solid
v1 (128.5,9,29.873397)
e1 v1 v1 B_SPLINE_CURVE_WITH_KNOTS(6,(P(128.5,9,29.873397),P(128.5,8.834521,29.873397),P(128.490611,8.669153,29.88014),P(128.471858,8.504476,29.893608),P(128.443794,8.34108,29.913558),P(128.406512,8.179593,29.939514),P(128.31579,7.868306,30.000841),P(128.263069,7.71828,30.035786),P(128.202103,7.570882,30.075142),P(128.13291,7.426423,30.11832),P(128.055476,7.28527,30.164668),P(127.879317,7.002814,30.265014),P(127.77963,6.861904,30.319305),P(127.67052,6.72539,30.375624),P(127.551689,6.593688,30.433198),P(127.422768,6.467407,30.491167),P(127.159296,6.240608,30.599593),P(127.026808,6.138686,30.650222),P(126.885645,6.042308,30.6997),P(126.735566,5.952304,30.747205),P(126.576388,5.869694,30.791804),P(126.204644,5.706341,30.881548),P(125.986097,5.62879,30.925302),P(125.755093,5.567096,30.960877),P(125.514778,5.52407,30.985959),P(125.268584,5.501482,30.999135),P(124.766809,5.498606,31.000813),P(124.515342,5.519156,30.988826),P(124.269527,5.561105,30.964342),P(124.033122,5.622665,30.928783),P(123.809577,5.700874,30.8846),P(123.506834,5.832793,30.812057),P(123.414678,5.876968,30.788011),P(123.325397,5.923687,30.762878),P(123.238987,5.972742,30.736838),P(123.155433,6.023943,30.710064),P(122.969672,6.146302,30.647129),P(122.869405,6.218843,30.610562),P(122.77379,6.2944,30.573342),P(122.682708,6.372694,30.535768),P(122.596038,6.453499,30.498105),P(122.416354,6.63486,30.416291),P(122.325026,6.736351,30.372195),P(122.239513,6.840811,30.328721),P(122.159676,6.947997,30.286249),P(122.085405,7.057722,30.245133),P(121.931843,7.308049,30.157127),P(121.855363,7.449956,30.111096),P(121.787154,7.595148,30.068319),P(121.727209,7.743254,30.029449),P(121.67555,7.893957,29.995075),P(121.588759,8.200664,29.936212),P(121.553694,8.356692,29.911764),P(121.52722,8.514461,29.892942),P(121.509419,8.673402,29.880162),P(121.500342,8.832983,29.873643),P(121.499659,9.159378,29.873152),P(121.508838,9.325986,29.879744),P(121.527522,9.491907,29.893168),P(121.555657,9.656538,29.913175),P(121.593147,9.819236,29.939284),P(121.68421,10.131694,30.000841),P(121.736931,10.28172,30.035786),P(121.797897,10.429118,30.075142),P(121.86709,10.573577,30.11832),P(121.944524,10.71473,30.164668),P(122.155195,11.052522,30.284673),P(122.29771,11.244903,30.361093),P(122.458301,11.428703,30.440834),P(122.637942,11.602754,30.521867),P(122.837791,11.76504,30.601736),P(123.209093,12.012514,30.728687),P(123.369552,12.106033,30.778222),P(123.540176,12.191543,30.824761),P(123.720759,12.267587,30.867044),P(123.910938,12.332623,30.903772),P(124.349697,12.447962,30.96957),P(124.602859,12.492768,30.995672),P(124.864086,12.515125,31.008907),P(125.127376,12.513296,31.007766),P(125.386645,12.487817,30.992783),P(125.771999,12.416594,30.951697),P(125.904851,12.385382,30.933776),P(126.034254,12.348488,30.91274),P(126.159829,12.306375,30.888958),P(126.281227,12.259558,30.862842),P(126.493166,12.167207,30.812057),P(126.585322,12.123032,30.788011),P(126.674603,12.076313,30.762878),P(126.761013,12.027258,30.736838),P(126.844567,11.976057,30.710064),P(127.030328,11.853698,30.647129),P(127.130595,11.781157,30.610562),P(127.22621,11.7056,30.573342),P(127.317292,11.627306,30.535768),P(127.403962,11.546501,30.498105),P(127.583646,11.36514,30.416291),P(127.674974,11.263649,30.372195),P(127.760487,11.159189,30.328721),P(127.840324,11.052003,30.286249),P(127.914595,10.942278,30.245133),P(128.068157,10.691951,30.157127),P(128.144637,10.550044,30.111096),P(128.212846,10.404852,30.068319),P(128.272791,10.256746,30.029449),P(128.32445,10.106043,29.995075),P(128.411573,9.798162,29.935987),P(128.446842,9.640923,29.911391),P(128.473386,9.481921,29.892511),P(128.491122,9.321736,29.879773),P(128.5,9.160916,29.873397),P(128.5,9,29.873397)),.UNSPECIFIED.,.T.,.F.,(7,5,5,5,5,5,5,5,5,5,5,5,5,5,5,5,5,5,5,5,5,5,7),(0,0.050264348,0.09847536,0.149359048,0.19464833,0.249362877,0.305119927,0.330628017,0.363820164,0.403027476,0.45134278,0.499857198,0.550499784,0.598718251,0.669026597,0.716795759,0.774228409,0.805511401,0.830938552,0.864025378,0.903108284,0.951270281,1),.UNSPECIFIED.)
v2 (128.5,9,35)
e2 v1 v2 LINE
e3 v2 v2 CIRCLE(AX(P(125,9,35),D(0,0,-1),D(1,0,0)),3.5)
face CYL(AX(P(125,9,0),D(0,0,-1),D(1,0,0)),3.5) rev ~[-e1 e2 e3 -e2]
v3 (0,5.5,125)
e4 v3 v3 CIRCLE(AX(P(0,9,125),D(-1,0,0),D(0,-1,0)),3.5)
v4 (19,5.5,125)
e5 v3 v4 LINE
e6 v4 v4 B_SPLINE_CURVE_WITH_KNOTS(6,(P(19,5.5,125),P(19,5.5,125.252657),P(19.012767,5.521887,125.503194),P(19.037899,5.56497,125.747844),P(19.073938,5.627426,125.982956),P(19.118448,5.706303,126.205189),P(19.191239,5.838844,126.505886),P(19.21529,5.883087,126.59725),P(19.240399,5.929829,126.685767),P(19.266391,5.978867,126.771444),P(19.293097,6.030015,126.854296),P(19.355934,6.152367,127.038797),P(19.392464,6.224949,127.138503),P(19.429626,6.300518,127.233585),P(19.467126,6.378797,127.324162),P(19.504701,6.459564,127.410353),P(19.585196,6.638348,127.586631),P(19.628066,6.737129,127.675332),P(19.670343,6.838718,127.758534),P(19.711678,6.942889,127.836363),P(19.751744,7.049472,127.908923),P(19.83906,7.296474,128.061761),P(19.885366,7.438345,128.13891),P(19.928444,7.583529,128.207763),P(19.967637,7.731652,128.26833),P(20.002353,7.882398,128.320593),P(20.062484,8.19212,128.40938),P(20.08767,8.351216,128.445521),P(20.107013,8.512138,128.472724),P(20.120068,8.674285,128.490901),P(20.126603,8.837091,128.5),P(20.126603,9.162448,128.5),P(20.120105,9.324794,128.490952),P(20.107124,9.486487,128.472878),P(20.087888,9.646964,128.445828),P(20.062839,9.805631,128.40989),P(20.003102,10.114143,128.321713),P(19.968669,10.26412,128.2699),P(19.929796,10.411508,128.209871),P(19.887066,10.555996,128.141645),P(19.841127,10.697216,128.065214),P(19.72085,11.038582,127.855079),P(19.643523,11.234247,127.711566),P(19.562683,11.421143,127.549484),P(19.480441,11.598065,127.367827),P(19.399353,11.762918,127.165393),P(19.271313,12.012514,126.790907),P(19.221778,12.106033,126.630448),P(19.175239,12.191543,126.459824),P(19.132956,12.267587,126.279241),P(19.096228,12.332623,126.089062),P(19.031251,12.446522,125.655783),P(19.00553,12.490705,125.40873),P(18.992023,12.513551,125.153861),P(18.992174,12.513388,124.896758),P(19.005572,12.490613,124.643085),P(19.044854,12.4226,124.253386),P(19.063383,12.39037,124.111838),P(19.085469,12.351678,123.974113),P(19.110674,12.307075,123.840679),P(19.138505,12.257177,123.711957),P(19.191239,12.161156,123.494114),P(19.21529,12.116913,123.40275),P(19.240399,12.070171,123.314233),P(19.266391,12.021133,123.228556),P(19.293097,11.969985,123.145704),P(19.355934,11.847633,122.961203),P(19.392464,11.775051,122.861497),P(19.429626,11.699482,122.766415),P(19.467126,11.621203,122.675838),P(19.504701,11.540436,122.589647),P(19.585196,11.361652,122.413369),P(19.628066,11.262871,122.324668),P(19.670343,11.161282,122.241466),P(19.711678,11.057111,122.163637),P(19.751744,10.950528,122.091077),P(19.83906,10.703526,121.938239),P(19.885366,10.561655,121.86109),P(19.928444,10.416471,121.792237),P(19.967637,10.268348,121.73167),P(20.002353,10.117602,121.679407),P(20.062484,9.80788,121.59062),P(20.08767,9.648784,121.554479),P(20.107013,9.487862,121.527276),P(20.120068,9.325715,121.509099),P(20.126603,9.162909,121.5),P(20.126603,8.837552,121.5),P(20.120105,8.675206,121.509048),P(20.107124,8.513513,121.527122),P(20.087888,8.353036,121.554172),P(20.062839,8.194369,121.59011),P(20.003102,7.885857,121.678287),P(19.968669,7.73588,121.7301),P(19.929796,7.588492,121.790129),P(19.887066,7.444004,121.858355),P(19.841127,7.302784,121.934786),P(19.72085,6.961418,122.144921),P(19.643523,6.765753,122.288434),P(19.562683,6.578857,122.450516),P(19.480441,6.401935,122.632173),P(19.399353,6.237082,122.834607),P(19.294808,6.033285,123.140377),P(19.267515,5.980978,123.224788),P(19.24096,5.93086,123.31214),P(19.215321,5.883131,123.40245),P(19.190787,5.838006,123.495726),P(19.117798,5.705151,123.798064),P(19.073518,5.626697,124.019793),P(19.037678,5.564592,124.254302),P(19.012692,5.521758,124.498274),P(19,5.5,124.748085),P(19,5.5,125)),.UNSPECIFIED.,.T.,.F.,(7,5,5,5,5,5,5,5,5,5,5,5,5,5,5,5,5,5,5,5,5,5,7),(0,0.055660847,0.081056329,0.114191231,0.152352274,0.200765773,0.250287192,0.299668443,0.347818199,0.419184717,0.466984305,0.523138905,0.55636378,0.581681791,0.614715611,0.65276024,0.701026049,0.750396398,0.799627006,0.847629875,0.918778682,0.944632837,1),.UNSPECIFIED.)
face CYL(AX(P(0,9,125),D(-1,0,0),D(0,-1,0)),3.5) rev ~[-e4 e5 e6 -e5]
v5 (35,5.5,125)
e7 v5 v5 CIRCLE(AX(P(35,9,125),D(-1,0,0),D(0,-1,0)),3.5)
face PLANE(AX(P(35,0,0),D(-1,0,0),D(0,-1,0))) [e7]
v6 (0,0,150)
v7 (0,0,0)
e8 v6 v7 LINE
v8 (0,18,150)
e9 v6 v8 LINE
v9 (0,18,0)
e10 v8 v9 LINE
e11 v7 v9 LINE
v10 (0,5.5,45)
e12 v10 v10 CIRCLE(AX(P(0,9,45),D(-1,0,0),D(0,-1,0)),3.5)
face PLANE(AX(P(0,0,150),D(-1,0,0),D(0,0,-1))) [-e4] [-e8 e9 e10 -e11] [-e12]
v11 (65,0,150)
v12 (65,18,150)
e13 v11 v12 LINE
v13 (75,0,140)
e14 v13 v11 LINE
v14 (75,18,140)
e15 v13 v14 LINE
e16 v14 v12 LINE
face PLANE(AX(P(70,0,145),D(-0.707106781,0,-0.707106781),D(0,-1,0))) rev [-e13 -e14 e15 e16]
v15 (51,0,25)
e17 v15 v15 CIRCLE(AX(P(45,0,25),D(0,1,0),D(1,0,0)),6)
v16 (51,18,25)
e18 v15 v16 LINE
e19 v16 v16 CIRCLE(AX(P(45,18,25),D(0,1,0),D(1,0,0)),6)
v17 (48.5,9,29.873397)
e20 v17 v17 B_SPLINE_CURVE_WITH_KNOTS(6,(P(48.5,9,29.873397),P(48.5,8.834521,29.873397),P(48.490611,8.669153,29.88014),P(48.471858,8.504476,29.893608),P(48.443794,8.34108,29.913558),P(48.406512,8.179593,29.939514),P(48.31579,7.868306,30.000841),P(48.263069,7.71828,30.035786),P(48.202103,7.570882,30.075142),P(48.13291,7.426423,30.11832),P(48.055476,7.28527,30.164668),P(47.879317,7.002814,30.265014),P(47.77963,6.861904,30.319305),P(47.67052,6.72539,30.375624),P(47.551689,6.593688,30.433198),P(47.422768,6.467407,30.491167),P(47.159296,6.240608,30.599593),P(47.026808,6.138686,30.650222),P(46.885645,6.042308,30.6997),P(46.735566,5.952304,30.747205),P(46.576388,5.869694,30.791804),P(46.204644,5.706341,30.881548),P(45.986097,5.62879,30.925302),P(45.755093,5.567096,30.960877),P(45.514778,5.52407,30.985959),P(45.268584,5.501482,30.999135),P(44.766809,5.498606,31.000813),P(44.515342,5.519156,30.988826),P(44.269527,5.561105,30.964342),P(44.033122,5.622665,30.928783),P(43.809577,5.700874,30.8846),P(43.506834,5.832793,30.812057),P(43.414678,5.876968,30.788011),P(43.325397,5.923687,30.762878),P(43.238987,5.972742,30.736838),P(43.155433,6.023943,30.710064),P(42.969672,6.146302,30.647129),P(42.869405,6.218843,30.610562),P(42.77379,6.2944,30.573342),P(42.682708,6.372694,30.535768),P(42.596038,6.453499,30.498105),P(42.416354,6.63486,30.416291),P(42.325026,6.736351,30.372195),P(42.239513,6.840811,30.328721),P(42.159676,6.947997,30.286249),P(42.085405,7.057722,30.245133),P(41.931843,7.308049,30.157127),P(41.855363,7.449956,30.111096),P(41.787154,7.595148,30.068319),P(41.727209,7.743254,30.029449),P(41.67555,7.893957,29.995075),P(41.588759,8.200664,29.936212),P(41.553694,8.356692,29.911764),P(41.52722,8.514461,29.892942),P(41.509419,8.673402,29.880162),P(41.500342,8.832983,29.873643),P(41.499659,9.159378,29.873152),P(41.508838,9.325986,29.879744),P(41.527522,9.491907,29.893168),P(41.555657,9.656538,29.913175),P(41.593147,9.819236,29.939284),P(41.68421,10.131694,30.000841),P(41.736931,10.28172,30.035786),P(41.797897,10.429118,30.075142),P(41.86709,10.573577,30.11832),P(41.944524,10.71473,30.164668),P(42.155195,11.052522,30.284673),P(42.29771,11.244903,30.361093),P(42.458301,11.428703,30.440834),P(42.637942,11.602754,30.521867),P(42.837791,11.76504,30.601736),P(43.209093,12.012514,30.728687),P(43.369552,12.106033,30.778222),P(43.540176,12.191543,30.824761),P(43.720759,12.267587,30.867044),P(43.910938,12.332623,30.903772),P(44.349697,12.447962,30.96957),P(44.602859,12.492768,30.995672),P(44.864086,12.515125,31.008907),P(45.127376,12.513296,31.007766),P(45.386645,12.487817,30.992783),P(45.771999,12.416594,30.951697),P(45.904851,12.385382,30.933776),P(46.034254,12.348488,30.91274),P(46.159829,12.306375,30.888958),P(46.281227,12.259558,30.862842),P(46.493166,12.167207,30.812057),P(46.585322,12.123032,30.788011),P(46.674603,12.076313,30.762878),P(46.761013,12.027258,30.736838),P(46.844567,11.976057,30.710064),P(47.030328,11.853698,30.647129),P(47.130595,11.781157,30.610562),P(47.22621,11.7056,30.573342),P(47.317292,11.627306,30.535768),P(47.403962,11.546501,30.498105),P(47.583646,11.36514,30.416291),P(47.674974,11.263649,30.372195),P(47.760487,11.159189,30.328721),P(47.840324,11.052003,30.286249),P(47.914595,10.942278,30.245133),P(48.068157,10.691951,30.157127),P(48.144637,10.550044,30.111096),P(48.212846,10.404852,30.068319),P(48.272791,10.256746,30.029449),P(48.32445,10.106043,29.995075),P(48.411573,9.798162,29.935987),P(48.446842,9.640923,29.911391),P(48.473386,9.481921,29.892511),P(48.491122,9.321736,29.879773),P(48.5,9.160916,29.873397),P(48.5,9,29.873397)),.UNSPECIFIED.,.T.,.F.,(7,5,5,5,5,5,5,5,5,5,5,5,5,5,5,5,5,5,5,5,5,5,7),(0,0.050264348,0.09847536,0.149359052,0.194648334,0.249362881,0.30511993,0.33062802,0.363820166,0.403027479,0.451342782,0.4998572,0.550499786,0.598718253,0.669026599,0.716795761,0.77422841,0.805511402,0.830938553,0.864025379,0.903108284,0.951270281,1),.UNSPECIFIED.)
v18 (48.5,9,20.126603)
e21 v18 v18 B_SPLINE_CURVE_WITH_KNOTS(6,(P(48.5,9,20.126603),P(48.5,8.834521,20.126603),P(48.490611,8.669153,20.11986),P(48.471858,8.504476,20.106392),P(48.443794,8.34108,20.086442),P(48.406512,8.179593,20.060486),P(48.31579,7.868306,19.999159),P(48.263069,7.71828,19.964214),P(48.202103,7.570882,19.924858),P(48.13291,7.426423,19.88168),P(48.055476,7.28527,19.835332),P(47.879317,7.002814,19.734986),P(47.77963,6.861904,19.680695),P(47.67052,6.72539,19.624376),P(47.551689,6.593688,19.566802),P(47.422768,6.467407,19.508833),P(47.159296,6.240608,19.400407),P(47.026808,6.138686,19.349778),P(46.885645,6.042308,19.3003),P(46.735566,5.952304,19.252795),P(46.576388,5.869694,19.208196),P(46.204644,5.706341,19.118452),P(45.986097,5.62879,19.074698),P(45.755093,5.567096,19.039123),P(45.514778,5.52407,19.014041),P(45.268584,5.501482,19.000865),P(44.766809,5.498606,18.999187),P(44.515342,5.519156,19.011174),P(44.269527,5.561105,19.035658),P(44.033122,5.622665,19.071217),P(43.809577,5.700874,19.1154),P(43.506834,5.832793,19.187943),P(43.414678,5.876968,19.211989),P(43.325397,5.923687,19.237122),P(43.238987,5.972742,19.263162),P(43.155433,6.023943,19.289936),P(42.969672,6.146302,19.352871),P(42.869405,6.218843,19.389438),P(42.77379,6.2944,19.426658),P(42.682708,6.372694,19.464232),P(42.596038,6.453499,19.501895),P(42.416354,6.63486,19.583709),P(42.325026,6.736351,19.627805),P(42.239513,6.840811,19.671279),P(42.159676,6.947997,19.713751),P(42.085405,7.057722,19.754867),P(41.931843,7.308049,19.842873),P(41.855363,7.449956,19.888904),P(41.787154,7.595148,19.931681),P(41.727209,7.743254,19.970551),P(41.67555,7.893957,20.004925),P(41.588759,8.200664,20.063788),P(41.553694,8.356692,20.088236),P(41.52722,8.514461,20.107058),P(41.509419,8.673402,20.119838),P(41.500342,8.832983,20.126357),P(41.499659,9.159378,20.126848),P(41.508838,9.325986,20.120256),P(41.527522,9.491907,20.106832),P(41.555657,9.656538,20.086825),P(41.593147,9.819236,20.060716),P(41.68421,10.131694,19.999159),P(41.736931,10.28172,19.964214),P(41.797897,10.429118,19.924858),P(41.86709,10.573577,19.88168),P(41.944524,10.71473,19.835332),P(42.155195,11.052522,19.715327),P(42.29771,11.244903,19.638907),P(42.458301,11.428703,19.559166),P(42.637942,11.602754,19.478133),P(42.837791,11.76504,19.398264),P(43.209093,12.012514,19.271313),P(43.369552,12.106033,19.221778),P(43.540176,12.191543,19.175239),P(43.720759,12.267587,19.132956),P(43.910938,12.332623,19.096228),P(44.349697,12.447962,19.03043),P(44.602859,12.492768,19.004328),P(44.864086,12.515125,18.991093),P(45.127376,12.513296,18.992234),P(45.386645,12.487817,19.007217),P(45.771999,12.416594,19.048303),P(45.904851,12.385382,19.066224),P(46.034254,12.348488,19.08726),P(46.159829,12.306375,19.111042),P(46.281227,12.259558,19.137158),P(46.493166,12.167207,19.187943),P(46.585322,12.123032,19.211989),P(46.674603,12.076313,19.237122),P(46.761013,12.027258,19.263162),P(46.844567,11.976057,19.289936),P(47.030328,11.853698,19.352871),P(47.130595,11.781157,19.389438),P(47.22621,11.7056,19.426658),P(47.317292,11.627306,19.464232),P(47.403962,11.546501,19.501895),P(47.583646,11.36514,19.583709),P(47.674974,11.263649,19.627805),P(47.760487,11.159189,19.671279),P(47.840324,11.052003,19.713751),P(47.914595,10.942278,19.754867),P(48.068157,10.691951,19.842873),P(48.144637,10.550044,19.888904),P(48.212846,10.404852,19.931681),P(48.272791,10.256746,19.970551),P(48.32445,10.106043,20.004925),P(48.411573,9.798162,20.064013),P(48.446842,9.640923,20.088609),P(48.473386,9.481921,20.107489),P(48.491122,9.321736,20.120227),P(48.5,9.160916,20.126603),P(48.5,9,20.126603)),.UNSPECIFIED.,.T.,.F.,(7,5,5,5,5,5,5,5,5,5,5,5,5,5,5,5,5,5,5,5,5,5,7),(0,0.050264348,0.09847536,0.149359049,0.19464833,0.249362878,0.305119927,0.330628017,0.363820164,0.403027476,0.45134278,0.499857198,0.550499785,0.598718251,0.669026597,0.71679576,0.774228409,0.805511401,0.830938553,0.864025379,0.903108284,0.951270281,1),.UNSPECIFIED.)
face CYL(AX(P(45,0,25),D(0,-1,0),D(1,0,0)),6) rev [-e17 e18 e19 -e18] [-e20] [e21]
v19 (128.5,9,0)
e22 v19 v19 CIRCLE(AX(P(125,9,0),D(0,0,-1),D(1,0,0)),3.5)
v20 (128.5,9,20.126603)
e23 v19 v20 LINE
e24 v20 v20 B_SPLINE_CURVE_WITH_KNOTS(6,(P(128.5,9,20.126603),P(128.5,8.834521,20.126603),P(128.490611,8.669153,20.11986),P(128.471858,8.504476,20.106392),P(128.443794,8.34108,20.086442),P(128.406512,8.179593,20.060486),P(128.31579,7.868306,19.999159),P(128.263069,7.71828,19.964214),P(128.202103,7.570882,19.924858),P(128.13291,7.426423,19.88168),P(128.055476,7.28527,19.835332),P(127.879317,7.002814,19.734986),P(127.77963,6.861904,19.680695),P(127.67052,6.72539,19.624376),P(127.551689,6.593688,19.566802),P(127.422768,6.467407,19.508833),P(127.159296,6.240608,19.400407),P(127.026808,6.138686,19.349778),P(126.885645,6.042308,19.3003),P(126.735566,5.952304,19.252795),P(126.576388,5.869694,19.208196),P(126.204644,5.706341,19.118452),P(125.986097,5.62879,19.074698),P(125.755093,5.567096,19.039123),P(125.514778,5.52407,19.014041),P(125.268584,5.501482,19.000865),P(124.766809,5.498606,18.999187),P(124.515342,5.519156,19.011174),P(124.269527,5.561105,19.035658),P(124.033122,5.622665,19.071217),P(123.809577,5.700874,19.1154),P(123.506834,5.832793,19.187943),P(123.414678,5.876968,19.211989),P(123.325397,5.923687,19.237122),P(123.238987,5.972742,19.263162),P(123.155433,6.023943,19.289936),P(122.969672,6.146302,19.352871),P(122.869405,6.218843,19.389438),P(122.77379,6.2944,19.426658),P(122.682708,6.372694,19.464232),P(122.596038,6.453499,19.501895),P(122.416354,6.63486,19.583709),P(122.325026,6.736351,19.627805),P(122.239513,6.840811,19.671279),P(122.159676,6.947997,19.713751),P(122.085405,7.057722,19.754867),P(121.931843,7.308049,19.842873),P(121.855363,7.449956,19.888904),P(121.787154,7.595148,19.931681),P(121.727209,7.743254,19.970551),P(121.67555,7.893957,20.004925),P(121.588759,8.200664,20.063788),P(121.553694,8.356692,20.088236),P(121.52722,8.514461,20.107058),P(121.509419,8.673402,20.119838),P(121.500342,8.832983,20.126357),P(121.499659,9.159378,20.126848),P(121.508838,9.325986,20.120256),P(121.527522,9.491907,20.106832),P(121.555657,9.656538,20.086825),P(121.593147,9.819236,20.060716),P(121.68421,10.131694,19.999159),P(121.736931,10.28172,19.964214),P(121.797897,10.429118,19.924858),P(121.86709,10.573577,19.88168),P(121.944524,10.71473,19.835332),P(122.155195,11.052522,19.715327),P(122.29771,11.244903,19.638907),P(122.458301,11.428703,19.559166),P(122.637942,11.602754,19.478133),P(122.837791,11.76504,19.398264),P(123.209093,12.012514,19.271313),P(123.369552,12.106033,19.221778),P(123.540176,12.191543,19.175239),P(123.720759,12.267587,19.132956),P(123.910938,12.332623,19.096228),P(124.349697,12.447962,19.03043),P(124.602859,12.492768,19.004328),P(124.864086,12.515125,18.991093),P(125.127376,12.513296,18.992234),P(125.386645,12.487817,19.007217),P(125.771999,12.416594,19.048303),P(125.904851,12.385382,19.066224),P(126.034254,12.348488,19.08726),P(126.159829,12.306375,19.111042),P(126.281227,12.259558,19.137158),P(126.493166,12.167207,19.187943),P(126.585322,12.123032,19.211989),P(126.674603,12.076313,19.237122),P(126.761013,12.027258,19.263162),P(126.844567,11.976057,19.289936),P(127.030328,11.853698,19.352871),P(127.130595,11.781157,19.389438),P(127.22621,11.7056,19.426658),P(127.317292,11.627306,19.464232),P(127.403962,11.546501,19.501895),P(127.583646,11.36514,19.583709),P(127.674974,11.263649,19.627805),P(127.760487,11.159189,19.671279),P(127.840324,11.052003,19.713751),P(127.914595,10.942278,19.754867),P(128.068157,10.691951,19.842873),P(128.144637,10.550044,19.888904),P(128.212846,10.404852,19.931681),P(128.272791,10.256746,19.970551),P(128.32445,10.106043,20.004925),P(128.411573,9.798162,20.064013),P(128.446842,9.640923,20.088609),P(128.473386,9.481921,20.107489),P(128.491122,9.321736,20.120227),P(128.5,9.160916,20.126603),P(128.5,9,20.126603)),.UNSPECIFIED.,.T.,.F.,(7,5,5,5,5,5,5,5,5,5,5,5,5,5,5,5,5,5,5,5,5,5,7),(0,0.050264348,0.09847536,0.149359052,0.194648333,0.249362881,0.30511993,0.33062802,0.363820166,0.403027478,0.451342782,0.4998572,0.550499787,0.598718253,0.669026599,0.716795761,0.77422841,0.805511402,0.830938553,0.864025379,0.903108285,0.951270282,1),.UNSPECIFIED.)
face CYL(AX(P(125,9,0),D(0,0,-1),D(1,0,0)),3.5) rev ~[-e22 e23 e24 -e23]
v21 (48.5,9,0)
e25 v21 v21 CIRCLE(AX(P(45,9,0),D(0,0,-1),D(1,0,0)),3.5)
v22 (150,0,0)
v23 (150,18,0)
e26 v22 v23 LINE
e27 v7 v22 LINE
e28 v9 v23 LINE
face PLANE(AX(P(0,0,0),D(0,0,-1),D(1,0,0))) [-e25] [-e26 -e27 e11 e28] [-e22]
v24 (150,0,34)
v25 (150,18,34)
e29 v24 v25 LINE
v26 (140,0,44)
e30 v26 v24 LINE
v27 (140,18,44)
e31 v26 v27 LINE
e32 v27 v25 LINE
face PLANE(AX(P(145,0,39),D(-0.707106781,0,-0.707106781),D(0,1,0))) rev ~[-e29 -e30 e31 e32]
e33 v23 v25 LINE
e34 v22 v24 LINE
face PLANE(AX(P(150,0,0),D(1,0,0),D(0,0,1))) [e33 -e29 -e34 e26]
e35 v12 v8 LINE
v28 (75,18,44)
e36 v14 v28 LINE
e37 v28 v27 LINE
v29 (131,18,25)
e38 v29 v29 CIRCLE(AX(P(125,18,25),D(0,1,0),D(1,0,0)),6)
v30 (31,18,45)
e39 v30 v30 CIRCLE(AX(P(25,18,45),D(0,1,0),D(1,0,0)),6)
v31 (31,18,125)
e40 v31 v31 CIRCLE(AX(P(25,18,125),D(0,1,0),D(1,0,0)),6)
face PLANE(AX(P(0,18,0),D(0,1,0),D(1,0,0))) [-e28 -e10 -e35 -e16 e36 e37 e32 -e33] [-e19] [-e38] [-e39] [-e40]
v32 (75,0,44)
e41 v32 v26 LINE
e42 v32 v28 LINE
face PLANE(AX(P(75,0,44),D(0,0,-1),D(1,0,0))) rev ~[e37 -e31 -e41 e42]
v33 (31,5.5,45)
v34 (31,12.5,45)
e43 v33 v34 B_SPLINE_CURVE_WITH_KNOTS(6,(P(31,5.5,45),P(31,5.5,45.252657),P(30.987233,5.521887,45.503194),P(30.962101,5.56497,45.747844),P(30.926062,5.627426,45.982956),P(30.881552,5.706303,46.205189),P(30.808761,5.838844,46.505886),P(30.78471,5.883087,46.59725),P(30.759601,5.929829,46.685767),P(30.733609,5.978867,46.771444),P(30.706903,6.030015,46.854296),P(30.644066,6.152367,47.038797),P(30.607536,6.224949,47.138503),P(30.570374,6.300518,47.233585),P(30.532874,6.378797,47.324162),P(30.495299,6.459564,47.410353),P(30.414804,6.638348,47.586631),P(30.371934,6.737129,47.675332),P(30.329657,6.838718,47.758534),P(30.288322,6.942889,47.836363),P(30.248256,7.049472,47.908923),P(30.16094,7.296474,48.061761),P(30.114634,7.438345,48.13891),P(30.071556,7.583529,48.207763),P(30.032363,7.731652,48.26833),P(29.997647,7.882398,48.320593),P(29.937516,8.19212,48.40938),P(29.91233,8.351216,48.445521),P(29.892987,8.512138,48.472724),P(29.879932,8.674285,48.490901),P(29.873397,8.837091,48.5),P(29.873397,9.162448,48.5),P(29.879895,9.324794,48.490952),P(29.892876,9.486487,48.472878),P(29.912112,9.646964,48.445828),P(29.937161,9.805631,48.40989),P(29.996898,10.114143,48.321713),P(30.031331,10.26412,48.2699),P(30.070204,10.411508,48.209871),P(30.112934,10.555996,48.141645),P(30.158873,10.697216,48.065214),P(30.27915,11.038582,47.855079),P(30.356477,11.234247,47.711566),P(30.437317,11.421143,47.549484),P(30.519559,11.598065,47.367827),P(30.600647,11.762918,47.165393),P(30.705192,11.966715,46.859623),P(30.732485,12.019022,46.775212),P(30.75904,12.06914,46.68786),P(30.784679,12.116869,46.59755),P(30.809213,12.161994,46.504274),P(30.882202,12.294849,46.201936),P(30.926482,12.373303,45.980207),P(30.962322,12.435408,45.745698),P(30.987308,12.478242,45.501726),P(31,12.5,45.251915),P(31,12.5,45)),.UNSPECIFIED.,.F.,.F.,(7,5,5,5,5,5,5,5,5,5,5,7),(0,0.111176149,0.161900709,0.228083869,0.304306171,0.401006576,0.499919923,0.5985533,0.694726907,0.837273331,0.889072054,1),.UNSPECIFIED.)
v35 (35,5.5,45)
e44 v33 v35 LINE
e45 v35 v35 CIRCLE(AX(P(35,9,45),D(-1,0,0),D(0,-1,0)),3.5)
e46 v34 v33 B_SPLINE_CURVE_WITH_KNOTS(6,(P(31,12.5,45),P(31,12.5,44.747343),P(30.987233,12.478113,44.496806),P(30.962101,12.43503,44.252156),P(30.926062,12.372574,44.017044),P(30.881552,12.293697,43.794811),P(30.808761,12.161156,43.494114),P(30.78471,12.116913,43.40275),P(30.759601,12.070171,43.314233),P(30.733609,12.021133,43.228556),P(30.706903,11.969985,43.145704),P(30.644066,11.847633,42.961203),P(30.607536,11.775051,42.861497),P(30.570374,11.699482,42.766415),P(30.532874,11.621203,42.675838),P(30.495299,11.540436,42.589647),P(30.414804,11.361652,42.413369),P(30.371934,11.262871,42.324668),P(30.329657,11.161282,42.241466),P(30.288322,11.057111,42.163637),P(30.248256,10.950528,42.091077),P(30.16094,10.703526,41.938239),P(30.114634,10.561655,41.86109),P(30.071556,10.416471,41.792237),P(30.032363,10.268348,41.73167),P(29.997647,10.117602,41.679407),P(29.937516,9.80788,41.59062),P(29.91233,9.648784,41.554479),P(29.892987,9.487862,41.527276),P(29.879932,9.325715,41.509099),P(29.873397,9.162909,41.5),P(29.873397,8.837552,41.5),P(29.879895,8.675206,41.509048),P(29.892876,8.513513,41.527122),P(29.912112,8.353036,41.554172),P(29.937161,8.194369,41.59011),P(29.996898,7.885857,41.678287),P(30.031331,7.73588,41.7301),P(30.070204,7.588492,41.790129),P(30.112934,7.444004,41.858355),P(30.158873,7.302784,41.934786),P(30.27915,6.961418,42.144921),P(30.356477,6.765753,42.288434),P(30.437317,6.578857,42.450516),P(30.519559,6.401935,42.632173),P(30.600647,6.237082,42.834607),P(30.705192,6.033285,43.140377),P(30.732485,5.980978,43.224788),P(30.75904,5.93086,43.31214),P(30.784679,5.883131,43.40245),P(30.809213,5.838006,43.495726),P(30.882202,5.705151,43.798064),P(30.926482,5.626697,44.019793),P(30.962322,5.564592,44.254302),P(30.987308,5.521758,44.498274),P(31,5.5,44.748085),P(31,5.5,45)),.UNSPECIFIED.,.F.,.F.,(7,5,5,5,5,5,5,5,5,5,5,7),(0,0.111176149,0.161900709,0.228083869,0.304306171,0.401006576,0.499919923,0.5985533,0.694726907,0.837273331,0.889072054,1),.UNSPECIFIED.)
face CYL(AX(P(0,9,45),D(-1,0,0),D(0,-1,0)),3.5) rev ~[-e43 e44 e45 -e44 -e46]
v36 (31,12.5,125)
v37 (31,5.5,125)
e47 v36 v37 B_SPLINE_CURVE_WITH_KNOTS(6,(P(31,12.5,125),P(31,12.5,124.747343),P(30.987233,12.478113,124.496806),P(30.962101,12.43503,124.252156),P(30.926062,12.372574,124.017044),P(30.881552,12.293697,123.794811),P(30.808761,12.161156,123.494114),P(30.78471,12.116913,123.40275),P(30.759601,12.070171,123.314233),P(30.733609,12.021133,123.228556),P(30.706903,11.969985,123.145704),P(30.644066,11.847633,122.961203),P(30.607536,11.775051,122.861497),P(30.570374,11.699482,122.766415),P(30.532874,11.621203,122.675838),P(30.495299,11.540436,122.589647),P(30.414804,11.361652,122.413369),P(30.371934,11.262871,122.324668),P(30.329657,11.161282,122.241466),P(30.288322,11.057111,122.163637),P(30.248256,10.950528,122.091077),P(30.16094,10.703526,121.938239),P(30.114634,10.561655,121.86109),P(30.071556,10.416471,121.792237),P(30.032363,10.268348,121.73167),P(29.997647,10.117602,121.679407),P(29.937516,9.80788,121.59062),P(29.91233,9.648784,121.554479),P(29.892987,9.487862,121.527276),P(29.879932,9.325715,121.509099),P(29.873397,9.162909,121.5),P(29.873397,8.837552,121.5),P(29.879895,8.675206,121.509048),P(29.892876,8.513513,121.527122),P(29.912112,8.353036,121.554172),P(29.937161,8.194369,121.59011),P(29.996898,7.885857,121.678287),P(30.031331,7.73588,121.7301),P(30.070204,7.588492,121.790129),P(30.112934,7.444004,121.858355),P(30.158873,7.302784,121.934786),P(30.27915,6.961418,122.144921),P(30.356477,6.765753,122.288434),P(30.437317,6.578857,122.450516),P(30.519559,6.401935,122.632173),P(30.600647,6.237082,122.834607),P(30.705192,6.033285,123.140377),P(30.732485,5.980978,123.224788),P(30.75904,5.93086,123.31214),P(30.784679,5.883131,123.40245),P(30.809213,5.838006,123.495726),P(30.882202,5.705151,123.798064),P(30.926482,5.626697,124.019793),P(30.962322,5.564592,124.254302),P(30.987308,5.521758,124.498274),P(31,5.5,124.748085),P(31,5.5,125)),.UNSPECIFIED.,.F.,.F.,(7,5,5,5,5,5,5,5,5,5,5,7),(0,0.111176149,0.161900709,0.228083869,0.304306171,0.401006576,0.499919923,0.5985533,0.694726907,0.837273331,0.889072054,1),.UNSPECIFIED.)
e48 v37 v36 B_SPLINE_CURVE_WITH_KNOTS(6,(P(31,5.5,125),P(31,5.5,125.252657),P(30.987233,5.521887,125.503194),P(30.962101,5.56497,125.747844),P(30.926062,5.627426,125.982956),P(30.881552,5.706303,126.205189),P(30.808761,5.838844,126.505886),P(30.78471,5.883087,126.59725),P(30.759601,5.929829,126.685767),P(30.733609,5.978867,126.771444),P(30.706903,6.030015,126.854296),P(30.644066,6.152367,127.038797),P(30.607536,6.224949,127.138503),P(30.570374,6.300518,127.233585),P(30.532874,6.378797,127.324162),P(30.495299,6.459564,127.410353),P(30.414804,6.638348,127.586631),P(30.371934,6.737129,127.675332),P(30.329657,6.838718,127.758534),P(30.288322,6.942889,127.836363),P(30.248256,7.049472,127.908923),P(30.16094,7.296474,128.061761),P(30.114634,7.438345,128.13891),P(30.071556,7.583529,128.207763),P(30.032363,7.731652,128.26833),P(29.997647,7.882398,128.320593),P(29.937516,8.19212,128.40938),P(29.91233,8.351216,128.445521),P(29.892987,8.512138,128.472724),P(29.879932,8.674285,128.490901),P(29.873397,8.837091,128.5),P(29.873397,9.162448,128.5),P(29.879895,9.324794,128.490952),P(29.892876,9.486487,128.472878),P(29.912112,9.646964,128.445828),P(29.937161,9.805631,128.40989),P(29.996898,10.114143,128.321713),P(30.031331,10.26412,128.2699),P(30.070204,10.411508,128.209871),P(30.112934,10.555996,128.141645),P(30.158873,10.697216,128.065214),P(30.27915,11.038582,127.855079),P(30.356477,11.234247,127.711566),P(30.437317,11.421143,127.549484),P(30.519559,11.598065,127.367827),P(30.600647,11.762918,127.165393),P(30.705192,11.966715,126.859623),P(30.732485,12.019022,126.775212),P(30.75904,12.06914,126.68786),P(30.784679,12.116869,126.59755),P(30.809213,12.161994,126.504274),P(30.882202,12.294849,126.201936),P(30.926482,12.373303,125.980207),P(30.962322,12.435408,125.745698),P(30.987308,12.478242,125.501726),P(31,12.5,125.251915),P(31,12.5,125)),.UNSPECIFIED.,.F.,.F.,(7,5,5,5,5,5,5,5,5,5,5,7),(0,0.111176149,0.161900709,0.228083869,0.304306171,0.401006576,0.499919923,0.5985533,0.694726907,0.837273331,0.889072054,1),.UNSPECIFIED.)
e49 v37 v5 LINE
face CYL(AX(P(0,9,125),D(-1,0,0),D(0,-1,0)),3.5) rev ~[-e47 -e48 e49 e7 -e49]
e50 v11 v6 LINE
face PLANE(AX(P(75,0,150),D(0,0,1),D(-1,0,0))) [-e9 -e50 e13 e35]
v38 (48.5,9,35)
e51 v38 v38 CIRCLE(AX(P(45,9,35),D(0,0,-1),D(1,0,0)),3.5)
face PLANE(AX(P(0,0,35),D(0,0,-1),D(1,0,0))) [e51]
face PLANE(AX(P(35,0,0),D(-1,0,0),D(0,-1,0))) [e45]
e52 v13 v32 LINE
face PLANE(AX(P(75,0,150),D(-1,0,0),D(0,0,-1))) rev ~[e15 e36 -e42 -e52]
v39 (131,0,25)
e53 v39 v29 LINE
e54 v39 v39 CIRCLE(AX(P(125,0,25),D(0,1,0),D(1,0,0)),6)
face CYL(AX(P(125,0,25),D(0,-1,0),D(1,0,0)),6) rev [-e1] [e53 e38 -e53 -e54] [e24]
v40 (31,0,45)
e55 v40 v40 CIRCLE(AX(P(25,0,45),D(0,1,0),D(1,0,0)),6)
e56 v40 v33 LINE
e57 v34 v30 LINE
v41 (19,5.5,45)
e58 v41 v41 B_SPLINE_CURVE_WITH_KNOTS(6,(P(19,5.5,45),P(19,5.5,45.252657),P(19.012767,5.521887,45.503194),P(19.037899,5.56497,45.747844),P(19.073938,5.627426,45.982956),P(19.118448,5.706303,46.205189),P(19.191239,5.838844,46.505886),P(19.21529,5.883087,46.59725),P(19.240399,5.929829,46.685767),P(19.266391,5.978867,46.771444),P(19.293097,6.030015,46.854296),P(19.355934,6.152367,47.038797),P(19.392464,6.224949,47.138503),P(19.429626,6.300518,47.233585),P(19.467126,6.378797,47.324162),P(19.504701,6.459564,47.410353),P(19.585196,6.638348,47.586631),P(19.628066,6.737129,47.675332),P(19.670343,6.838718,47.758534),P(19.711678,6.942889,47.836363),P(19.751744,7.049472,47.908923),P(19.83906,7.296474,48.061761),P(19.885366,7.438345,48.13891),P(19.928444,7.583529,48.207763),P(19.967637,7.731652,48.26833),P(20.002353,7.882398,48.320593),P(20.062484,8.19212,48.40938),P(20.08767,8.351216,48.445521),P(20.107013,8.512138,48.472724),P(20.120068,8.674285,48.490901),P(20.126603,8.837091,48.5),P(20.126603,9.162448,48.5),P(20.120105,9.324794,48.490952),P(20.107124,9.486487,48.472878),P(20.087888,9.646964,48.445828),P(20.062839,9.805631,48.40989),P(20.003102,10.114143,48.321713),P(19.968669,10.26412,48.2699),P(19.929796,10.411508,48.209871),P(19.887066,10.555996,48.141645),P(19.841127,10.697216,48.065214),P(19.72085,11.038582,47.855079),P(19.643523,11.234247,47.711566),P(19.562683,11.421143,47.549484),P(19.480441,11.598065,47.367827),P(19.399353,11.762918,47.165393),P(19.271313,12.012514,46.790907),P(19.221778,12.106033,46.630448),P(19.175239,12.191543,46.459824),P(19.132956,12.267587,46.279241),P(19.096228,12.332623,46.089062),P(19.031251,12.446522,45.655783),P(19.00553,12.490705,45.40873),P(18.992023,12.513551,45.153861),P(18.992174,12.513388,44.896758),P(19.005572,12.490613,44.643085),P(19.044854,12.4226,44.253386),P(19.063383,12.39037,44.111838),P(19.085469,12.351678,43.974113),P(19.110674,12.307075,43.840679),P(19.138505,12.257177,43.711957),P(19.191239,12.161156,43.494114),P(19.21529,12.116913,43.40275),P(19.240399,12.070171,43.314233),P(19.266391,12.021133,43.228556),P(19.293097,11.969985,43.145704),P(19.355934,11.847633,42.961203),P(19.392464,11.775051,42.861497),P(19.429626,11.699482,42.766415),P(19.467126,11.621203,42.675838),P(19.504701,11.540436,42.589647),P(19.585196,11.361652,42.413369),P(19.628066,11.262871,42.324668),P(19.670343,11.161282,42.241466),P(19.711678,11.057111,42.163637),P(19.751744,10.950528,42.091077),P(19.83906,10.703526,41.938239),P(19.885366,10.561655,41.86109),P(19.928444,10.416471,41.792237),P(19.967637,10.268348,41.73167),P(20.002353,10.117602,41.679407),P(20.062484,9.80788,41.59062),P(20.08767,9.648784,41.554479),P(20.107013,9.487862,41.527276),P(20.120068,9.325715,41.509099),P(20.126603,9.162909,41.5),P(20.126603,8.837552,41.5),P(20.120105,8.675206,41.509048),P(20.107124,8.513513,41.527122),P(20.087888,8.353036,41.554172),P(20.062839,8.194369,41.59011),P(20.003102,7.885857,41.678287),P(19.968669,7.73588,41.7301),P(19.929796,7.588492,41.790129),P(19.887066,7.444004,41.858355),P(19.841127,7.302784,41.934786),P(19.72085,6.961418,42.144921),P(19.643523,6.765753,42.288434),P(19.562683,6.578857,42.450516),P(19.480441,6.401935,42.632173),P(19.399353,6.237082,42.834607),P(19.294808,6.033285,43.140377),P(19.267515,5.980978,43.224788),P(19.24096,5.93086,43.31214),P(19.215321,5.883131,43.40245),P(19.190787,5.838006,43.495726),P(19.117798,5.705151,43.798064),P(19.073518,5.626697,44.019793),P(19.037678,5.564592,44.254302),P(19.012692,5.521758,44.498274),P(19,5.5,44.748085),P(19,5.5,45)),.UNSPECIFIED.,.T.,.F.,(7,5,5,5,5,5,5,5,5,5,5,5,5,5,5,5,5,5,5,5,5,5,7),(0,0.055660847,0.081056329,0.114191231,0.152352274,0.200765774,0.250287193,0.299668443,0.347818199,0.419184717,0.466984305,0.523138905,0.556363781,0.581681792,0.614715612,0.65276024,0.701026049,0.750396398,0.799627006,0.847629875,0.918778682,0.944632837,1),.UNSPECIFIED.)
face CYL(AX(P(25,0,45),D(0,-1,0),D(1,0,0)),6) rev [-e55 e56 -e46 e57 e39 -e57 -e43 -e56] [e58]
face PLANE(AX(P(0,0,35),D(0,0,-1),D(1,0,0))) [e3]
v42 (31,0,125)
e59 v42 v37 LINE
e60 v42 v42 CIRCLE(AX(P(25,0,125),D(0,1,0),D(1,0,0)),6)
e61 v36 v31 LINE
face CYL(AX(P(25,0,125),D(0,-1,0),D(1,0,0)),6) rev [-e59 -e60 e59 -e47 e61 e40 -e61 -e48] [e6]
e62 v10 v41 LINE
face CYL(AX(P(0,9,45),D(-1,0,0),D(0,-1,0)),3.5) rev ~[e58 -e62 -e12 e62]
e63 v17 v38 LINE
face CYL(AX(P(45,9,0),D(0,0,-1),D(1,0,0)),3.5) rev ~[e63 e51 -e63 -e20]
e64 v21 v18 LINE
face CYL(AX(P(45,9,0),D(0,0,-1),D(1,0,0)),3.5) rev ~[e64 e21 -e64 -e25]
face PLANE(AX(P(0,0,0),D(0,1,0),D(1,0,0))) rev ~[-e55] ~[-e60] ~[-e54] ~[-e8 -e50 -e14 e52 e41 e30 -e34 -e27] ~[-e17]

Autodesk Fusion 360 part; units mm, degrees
sketch "Front" plane through (0, 0, 0) normal (0, 1, 0) x (1, 0, 0)
  line L0 (0, 0) -> (150, 0)
  line L1 (150, 0) -> (150, -44)
  line L2 (75, -150) -> (0, -150)
  line L3 (0, -150) -> (0, 0)
  line L4 (75, -150) -> (75, -44)
  line L5 (75, -44) -> (150, -44)
  line L6 (25, -150) -> (25, 0) construction
  line L7 (0, -25) -> (150, -25) construction
  circle A0 centre (45, -25) radius 6
  circle A1 centre (125, -25) radius 6
  circle A2 centre (25, -45) radius 6
  circle A3 centre (25, -125) radius 6
  dimension "d1" = 150
  dimension "d2" = 150
  dimension "d5" = 75
  dimension "d6" = 106
  dimension "d7" = 25
  dimension "d8" = 25
  dimension "d9" = 12
  dimension "d10" = 12
  dimension "d11" = 12
  dimension "d12" = 12
  dimension "d13" = 80
  dimension "d14" = 80
  dimension "d15" = 45
  dimension "d16" = 45
extrude "Extrude1" add sketch "Front" along normal blind 18
chamfer "Chamfer1" distance 10 angle 45 1 edges at (75, 9, 150)
chamfer "Chamfer2" distance 10 angle 45 1 edges at (150, 9, 44)
sketch "Left" plane through (0, 0, 0) normal (-1, 0, 0) x (0, -1, 0)
  line L0 (0, 0) -> (0, 150)
  line L1 (0, 150) -> (-18, 150)
  line L2 (-18, 150) -> (-18, 0)
  line L3 (-18, 0) -> (0, 0)
  line L4 (-9, 0) -> (-9, 150) construction
  circle A0 centre (-9, 45) radius 3.5
  circle A1 centre (-9, 125) radius 3.5
  dimension "d21" = 7
  dimension "d22" = 7
  dimension "d23" = 45
  dimension "d24" = 80
extrude "Extrude2" cut sketch "Left" against normal blind 35 contours A0 | A1
sketch "Bottom" plane through (0, 0, 0) normal (0, 0, -1) x (1, 0, 0)
  line L0 (150, 0) -> (0, 0)
  line L1 (0, 0) -> (0, -18)
  line L2 (0, -18) -> (150, -18)
  line L3 (150, -18) -> (150, 0)
  line L4 (0, -9) -> (150, -9) construction
  circle A0 centre (45, -9) radius 3.5
  circle A1 centre (125, -9) radius 3.5
  dimension "d27" = 7
  dimension "d28" = 7
  dimension "d29" = 45
  dimension "d30" = 80
extrude "Extrude3" cut sketch "Bottom" against normal blind 35 contours A0 | A1
